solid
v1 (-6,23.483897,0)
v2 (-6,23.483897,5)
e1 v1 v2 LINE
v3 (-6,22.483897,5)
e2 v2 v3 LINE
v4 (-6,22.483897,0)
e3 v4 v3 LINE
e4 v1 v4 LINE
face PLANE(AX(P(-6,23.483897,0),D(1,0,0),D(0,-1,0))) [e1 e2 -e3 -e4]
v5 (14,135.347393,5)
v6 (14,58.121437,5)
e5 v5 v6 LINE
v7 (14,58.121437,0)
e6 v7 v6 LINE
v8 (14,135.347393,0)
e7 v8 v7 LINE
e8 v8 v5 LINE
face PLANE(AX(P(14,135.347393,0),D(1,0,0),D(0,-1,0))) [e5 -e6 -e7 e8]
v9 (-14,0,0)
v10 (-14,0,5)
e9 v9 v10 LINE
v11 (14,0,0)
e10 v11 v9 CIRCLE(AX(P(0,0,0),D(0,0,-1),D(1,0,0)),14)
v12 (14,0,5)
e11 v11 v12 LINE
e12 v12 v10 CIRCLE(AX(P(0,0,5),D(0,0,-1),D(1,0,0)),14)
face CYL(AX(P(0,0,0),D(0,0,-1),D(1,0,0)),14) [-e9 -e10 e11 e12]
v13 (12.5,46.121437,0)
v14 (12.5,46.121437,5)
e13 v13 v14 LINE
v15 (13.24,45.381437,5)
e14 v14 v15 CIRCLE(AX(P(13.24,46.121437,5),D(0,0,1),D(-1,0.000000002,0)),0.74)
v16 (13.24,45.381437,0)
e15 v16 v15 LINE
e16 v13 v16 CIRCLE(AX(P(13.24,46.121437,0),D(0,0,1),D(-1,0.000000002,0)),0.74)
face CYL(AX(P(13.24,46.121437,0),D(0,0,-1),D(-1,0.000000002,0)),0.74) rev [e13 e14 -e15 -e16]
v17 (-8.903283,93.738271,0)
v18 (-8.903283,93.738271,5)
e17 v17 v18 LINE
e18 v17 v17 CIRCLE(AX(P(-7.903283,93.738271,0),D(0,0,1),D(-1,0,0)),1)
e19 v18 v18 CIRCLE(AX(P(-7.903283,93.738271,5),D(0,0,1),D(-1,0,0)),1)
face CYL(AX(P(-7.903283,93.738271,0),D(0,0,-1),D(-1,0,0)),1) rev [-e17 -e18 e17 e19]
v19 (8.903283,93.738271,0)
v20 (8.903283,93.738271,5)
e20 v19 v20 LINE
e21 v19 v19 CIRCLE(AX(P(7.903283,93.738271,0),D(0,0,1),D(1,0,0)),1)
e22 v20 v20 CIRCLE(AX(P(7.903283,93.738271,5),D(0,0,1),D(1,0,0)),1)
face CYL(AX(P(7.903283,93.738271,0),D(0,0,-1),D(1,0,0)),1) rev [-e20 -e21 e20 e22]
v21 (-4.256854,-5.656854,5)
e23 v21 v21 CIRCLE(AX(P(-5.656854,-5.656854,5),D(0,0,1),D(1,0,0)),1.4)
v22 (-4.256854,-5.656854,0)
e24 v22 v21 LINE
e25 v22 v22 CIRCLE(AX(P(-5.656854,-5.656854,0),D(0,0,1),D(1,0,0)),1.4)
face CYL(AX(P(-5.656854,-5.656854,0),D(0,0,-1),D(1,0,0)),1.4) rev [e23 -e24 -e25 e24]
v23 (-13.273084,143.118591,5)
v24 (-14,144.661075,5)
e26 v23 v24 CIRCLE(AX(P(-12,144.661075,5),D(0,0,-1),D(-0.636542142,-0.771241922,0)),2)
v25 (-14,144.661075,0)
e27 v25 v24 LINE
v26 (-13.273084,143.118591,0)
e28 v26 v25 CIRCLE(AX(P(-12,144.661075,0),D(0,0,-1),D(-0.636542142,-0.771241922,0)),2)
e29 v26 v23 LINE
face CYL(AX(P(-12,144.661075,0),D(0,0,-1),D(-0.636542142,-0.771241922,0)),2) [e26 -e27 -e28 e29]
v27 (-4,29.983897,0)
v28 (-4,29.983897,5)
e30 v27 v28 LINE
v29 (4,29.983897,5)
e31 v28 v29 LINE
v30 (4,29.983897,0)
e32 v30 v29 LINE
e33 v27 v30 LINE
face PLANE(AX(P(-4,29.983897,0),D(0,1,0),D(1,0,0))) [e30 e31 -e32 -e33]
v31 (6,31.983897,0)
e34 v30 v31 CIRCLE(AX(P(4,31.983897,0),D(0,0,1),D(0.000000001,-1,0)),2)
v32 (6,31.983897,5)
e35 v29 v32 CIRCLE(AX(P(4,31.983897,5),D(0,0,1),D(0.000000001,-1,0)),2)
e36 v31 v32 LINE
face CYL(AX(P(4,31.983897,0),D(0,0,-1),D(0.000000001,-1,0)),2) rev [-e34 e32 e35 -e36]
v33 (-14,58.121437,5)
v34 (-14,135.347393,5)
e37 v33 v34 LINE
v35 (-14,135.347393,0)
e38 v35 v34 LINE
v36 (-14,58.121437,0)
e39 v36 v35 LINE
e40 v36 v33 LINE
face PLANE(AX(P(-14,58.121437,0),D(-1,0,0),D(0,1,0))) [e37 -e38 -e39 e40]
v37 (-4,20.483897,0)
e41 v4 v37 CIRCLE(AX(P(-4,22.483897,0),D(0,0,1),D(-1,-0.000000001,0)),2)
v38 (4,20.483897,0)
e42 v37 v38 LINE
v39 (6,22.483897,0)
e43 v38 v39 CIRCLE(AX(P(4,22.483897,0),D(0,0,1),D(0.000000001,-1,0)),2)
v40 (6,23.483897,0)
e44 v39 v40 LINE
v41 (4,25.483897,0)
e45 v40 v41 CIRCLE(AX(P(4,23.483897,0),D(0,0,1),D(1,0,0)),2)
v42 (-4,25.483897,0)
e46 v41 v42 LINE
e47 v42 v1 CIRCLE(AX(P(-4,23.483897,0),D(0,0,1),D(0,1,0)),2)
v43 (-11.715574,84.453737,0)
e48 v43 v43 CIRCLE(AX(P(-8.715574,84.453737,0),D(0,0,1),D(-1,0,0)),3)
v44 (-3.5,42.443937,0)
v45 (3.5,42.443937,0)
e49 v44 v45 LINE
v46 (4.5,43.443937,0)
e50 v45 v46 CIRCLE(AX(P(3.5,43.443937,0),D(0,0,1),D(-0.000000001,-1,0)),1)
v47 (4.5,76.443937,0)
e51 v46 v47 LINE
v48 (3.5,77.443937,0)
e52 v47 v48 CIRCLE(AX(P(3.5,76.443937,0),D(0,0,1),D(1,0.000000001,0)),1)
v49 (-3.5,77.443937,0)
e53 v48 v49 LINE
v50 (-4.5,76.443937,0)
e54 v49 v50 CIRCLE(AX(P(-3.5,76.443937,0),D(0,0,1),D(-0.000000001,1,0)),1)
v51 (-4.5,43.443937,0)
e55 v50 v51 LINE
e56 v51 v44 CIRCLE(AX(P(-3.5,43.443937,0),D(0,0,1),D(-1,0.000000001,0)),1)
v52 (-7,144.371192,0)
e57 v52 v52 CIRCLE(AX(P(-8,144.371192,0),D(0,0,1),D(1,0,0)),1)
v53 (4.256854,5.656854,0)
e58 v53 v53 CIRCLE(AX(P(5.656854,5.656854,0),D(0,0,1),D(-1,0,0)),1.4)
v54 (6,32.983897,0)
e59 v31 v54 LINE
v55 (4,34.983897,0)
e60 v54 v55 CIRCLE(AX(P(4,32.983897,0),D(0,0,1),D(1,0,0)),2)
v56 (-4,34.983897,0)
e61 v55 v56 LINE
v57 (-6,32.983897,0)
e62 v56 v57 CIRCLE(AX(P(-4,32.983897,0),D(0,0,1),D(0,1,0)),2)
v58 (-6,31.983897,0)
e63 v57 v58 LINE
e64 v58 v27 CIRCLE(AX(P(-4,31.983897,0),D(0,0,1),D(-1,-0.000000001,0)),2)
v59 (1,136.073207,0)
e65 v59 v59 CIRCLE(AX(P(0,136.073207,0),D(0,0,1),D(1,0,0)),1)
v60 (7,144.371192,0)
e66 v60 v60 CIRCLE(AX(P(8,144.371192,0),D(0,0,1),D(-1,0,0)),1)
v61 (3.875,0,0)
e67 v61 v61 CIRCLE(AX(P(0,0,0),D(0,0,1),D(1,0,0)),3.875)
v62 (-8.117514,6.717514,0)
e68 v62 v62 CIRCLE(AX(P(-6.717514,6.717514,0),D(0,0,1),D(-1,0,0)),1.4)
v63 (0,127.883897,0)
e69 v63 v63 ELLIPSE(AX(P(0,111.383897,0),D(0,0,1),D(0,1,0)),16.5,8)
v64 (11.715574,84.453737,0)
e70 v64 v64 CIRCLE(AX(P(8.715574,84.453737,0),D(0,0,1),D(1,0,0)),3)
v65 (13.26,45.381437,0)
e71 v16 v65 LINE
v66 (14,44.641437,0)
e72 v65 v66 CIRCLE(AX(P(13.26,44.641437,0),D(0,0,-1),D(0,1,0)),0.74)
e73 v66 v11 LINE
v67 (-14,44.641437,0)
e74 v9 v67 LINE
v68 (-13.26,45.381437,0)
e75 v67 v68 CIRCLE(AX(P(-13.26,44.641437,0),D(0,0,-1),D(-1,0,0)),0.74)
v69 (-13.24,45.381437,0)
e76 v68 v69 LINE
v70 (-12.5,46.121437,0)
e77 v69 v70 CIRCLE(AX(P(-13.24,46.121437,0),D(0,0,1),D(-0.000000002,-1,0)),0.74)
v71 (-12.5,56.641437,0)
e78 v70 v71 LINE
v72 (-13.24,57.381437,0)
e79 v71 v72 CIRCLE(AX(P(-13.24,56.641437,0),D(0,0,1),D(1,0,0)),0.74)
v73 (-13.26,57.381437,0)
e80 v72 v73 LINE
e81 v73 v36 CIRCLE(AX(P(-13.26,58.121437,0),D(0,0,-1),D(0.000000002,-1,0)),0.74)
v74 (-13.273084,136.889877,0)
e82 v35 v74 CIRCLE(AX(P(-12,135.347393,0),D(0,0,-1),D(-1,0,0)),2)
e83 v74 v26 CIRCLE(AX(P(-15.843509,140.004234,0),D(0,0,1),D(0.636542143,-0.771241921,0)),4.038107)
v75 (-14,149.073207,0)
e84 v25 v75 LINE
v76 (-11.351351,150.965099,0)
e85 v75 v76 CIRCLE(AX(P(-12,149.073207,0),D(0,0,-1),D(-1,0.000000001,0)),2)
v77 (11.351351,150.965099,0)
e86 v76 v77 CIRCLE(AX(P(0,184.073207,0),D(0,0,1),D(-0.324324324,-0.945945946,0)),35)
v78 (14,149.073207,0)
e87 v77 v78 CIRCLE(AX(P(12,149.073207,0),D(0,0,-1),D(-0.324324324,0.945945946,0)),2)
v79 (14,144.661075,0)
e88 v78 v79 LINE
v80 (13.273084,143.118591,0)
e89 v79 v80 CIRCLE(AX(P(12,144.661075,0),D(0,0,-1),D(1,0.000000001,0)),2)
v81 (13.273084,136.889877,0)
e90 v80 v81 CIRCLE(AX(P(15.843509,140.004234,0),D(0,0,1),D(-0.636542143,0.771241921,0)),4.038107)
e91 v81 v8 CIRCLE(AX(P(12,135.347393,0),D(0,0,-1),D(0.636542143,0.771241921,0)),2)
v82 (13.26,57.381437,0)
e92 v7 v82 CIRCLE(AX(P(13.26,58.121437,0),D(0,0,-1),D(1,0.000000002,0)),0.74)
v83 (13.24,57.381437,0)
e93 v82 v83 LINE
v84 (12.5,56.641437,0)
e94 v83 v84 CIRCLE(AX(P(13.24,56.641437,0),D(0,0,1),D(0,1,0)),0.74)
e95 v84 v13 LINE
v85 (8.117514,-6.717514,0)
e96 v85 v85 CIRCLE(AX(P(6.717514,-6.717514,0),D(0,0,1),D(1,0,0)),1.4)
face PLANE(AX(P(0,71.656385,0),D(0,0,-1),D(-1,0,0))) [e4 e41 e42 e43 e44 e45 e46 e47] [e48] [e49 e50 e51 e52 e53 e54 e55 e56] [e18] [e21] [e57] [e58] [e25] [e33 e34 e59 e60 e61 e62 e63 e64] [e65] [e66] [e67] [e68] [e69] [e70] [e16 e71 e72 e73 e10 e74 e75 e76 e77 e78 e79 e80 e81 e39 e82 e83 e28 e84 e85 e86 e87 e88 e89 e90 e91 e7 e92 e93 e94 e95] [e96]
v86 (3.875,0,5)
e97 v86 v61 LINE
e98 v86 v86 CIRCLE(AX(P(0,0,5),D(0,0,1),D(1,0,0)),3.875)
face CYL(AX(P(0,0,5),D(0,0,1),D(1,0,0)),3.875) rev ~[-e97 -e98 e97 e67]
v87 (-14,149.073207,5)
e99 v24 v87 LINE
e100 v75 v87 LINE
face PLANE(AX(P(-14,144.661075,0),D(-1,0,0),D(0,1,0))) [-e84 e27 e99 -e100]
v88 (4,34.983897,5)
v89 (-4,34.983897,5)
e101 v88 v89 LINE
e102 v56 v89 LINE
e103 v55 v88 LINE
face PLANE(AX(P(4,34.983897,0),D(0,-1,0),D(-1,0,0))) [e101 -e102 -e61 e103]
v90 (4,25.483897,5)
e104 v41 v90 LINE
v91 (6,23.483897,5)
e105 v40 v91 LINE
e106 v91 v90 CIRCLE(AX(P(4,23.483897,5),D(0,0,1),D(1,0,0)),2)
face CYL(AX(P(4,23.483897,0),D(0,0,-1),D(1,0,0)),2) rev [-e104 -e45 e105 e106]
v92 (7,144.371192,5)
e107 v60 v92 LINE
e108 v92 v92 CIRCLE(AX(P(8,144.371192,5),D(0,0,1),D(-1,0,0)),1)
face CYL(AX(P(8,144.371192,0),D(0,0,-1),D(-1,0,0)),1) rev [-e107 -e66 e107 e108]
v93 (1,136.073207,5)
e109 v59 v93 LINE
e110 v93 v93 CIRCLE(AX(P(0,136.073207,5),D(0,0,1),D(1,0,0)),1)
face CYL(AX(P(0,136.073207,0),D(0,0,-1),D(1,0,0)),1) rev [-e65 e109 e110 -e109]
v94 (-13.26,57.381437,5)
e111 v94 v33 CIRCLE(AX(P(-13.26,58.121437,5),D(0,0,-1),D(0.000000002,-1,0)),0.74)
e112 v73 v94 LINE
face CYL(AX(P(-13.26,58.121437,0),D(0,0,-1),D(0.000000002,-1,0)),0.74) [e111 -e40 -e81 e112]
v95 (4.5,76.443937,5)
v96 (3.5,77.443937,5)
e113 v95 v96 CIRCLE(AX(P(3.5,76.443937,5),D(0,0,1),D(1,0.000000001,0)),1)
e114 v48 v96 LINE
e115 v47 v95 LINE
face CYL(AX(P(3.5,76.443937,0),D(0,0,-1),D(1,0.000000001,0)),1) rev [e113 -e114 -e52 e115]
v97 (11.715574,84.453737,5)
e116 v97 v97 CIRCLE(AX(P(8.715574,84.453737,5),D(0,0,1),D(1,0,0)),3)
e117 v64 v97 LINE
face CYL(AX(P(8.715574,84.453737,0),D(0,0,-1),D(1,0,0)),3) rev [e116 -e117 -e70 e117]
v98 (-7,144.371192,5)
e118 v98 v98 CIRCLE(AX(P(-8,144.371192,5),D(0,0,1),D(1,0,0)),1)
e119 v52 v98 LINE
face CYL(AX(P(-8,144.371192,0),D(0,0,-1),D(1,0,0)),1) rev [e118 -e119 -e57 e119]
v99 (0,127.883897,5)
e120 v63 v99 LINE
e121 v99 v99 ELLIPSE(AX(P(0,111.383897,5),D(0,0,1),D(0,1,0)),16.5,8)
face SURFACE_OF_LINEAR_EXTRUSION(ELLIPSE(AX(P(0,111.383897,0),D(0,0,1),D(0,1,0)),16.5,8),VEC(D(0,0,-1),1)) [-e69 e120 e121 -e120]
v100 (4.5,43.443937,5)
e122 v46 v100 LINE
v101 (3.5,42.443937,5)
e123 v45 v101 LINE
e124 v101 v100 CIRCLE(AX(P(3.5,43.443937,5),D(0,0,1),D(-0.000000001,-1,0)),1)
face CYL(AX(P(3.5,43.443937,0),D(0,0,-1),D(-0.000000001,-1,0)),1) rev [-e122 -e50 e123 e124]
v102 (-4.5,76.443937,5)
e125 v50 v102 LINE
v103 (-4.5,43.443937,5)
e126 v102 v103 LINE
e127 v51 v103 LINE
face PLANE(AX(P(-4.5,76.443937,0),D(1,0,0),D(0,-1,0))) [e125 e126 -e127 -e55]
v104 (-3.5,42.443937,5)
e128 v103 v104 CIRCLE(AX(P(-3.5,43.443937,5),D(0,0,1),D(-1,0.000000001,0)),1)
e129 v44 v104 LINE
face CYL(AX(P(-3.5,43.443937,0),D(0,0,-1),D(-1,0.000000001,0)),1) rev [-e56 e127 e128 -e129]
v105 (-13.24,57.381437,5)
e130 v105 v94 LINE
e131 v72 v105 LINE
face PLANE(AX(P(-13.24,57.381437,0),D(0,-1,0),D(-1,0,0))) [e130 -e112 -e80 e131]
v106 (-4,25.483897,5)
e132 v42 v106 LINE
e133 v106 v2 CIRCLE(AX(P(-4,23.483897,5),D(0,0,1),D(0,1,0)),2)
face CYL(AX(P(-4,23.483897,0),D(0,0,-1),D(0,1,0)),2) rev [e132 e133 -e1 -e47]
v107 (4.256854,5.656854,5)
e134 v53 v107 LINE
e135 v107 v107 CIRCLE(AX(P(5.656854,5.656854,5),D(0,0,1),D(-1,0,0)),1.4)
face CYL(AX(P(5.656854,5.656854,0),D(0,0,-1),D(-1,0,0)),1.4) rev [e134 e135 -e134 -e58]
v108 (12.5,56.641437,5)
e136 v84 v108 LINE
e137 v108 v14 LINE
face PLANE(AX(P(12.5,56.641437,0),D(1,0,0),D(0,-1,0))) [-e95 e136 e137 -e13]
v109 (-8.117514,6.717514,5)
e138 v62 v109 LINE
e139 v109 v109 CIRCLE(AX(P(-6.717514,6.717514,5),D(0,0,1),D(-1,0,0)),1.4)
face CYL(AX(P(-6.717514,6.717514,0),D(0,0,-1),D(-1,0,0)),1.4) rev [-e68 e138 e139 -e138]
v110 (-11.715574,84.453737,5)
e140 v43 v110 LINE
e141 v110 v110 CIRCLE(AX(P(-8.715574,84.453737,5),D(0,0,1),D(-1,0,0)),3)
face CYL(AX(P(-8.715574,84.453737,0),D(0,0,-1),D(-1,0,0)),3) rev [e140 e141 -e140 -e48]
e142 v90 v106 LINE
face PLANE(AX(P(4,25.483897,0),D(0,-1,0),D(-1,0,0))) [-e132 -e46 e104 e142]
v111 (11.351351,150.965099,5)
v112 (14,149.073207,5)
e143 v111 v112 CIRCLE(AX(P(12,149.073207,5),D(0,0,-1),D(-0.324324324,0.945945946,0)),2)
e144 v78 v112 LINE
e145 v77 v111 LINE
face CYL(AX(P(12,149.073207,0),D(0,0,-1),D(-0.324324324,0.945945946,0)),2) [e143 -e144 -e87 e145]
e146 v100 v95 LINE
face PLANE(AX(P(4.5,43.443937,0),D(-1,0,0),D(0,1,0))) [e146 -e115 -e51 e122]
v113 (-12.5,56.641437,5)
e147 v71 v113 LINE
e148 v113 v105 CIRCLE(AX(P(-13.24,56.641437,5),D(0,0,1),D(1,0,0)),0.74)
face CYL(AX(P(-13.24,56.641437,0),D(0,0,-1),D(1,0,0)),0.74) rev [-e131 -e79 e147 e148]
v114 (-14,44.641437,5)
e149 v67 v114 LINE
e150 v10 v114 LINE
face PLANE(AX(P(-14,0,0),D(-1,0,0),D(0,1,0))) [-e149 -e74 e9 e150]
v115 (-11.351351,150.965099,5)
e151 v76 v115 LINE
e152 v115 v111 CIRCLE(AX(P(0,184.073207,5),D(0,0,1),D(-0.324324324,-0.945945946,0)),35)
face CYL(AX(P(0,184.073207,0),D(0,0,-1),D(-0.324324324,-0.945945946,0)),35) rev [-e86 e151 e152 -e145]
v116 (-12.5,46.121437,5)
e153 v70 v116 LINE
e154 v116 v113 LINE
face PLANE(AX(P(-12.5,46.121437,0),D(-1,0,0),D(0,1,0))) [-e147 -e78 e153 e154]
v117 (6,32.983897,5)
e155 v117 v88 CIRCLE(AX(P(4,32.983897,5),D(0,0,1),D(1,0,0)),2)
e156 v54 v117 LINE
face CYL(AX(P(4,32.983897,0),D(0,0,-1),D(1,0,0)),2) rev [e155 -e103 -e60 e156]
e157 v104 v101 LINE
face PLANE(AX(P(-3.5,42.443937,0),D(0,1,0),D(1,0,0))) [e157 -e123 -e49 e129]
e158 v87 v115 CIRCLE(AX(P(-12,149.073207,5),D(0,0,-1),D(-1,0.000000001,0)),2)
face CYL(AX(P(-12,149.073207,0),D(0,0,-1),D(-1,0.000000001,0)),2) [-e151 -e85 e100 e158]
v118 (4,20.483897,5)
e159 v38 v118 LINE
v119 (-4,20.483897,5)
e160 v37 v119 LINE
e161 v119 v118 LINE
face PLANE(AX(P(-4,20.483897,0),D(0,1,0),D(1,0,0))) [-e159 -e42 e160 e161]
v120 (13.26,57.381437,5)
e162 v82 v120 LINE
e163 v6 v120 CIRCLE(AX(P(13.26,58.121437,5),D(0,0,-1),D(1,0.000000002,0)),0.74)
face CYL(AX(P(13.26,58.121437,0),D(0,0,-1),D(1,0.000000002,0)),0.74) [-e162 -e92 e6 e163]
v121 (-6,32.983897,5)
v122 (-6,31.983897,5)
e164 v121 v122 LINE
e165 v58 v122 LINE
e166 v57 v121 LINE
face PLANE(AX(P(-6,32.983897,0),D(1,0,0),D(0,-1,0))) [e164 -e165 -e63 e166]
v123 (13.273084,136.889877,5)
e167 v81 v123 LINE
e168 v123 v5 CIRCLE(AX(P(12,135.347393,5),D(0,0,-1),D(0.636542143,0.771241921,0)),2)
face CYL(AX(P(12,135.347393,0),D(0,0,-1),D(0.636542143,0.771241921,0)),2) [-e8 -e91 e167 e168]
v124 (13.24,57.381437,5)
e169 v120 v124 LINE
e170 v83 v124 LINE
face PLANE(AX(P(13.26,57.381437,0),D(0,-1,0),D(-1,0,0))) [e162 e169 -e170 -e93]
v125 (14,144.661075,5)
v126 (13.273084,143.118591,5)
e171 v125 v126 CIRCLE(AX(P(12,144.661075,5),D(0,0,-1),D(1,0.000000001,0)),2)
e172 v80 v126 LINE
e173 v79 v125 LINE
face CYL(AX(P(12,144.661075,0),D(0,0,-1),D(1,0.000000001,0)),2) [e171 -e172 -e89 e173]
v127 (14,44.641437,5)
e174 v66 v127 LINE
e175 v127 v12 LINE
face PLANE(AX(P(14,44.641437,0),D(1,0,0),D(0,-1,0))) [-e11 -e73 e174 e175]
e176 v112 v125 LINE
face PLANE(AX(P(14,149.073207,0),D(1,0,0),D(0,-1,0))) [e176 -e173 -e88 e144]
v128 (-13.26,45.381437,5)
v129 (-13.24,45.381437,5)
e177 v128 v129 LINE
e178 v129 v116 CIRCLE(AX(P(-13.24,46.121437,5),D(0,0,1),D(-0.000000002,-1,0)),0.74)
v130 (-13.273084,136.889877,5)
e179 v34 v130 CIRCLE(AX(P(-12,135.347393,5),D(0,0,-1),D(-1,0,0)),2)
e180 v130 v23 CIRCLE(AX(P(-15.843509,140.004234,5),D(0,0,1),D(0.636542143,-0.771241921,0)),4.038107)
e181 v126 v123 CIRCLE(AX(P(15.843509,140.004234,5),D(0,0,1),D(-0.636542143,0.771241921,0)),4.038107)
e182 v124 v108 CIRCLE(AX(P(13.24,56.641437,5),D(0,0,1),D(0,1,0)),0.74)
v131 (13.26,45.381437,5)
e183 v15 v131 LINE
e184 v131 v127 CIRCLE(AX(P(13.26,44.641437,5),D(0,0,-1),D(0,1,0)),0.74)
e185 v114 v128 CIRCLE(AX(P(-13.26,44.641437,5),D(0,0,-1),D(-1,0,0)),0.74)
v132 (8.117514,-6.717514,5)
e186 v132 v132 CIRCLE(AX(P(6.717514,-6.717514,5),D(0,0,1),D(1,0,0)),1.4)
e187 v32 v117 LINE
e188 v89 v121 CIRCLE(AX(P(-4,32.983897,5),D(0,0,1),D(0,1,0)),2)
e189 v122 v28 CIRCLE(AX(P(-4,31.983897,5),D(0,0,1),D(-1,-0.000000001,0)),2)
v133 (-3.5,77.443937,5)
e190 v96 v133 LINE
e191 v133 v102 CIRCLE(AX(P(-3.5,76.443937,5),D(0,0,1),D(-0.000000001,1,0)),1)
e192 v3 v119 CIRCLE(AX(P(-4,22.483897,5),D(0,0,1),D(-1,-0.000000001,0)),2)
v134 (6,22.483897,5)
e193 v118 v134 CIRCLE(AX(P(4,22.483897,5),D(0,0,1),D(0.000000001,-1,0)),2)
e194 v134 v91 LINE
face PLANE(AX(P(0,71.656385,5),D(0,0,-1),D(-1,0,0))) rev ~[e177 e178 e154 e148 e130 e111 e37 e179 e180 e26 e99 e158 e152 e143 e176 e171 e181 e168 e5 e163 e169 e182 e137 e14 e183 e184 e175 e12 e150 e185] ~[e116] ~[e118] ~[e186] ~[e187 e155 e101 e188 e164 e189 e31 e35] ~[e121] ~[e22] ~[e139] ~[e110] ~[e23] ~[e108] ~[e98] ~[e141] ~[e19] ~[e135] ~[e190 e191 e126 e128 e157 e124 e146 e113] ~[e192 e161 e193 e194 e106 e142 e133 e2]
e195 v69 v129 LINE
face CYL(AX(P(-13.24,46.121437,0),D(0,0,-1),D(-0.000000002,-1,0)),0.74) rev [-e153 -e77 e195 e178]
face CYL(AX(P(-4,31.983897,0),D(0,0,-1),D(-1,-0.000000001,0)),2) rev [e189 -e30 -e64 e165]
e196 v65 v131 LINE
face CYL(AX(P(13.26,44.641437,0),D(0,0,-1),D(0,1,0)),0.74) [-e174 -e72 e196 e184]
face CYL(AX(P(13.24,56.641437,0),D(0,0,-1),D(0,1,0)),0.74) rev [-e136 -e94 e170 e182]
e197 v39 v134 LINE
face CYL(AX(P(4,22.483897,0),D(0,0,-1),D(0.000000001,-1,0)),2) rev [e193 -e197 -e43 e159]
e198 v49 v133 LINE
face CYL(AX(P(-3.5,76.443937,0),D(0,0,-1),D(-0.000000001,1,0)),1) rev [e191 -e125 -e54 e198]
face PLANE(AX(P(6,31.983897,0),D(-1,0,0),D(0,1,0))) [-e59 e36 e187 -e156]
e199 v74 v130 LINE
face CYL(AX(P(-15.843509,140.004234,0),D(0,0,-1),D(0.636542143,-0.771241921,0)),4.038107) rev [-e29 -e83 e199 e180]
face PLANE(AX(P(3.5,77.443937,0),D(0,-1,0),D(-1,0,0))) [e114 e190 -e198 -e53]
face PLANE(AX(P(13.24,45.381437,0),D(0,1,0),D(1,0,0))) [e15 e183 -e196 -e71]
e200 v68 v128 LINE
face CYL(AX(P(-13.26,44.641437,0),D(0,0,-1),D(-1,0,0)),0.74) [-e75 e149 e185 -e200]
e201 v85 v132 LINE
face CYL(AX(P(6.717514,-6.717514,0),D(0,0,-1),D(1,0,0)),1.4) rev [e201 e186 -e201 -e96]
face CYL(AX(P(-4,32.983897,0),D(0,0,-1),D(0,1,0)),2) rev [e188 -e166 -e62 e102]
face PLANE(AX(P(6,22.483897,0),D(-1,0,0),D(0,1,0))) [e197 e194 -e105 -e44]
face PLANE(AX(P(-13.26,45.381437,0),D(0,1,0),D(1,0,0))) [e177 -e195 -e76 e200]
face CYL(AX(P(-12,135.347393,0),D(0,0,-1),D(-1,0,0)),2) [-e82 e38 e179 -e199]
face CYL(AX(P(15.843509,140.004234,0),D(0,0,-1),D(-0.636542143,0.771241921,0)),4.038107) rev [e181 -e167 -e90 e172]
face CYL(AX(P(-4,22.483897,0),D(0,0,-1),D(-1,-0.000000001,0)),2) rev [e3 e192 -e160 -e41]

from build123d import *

# Parameters (mm, degrees)
SKETCH1_R           = 1
SKETCH1_R_2         = 1.4
SKETCH1_R_3         = 3
SKETCH1_RX          = 16.5
SKETCH1_RY          = 8
BOSS_EXTRUDE1_DEPTH = 5
CUT_EXTRUDE1_REACH  = 153.803
SKETCH2_R           = 3.875


with BuildPart() as part:
    # Sketch1 → Boss-Extrude1 (new body)
    with BuildSketch(Plane.XY):
        with BuildLine():
            Line((-14, 0), (-14, 44.641437436))
            ThreePointArc((-14, 44.641437436), (-13.783259018, 45.164696454), (-13.26, 45.381437436))
            Line((-13.26, 45.381437436), (-13.24, 45.381437436))
            ThreePointArc((-13.24, 45.381437436), (-12.716740982, 45.598178417), (-12.5, 46.121437436))
            Line((-12.5, 46.121437436), (-12.5, 56.641437436))
            ThreePointArc((-12.5, 56.641437436), (-12.716740982, 57.164696454), (-13.24, 57.381437436))
            Line((-13.24, 57.381437436), (-13.26, 57.381437436))
            ThreePointArc((-13.26, 57.381437436), (-13.783259018, 57.598178417), (-14, 58.121437436))
            Line((-14, 58.121437436), (-14, 135.347392982))
            ThreePointArc((-14, 135.347392982), (-13.809166738, 136.199986504), (-13.273084285, 136.889876824))
            ThreePointArc((-13.273084285, 136.889876824), (-11.805402668, 140.00423401), (-13.273084285, 143.118591196))
            ThreePointArc((-13.273084285, 143.118591196), (-13.809166738, 143.808481515), (-14, 144.661075038))
            Line((-14, 144.661075038), (-14, 149.07320666))
            ThreePointArc((-14, 149.07320666), (-13.162476387, 150.700673602), (-11.351351351, 150.965098552))
            ThreePointArc((-11.351351351, 150.965098552), (0, 149.07320666), (11.351351351, 150.965098552))
            ThreePointArc((11.351351351, 150.965098552), (13.162476387, 150.700673602), (14, 149.07320666))
            Line((14, 149.07320666), (14, 144.661075038))
            ThreePointArc((14, 144.661075038), (13.809166738, 143.808481515), (13.273084285, 143.118591196))
            ThreePointArc((13.273084285, 143.118591196), (11.805402668, 140.00423401), (13.273084285, 136.889876824))
            ThreePointArc((13.273084285, 136.889876824), (13.809166738, 136.199986504), (14, 135.347392982))
            Line((14, 135.347392982), (14, 58.121437436))
            ThreePointArc((14, 58.121437436), (13.783259018, 57.598178417), (13.26, 57.381437436))
            Line((13.26, 57.381437436), (13.24, 57.381437436))
            ThreePointArc((13.24, 57.381437436), (12.716740982, 57.164696454), (12.5, 56.641437436))
            Line((12.5, 56.641437436), (12.5, 46.121437436))
            ThreePointArc((12.5, 46.121437436), (12.716740982, 45.598178417), (13.24, 45.381437436))
            Line((13.24, 45.381437436), (13.26, 45.381437436))
            ThreePointArc((13.26, 45.381437436), (13.783259018, 45.164696454), (14, 44.641437436))
            Line((14, 44.641437436), (14, 0))
            ThreePointArc((14, 0), (0, -14), (-14, 0))
        make_face()
        with Locations((-8, 144.371191598)):
            Circle(SKETCH1_R, mode=Mode.SUBTRACT)
        with Locations((6.717514421, -6.717514421)):
            Circle(SKETCH1_R_2, mode=Mode.SUBTRACT)
        with Locations((-5.656854249, -5.656854249)):
            Circle(SKETCH1_R_2, mode=Mode.SUBTRACT)
        with Locations(Location((5.656854249, 5.656854249, 0), (0, 0, 180))):
            Circle(SKETCH1_R_2, mode=Mode.SUBTRACT)
        with Locations(Location((-6.717514421, 6.717514421, 0), (0, 0, 180))):
            Circle(SKETCH1_R_2, mode=Mode.SUBTRACT)
        with Locations(Location((8, 144.371191598, 0), (0, 0, 180))):
            Circle(SKETCH1_R, mode=Mode.SUBTRACT)
        with Locations((0, 136.07320666)):
            Circle(SKETCH1_R, mode=Mode.SUBTRACT)
        with Locations((7.903282752, 93.738271437)):
            Circle(SKETCH1_R, mode=Mode.SUBTRACT)
        with Locations((8.715574275, 84.453736851)):
            Circle(SKETCH1_R_3, mode=Mode.SUBTRACT)
        with Locations(Location((-7.903282752, 93.738271437, 0), (0, 0, 180))):
            Circle(SKETCH1_R, mode=Mode.SUBTRACT)
        with Locations(Location((-8.715574275, 84.453736851, 0), (0, 0, 180))):
            Circle(SKETCH1_R_3, mode=Mode.SUBTRACT)
        with Locations(Location((0, 111.383897204), (0, 0, 90))):
            Ellipse(SKETCH1_RX, SKETCH1_RY, mode=Mode.SUBTRACT)
        with BuildLine():
            Line((-4, 29.983897204), (4, 29.983897204))
            ThreePointArc((4, 29.983897204), (5.414213562, 30.569683642), (6, 31.983897204))
            Line((6, 31.983897204), (6, 32.983897204))
            ThreePointArc((6, 32.983897204), (5.414213562, 34.398110767), (4, 34.983897204))
            Line((4, 34.983897204), (-4, 34.983897204))
            ThreePointArc((-4, 34.983897204), (-5.414213562, 34.398110767), (-6, 32.983897204))
            Line((-6, 32.983897204), (-6, 31.983897204))
            ThreePointArc((-6, 31.983897204), (-5.414213562, 30.569683642), (-4, 29.983897204))
        make_face(mode=Mode.SUBTRACT)
        with BuildLine():
            Line((-4, 20.483897204), (4, 20.483897204))
            ThreePointArc((4, 20.483897204), (5.414213562, 21.069683642), (6, 22.483897204))
            Line((6, 22.483897204), (6, 23.483897204))
            ThreePointArc((6, 23.483897204), (5.414213562, 24.898110767), (4, 25.483897204))
            Line((4, 25.483897204), (-4, 25.483897204))
            ThreePointArc((-4, 25.483897204), (-5.414213562, 24.898110767), (-6, 23.483897204))
            Line((-6, 23.483897204), (-6, 22.483897204))
            ThreePointArc((-6, 22.483897204), (-5.414213562, 21.069683642), (-4, 20.483897204))
        make_face(mode=Mode.SUBTRACT)
        with BuildLine():
            Line((-3.5, 42.443937436), (3.5, 42.443937436))
            ThreePointArc((3.5, 42.443937436), (4.207106781, 42.736830654), (4.5, 43.443937436))
            Line((4.5, 43.443937436), (4.5, 76.443937436))
            ThreePointArc((4.5, 76.443937436), (4.207106781, 77.151044217), (3.5, 77.443937436))
            Line((3.5, 77.443937436), (-3.5, 77.443937436))
            ThreePointArc((-3.5, 77.443937436), (-4.207106781, 77.151044217), (-4.5, 76.443937436))
            Line((-4.5, 76.443937436), (-4.5, 43.443937436))
            ThreePointArc((-4.5, 43.443937436), (-4.207106781, 42.736830654), (-3.5, 42.443937436))
        make_face(mode=Mode.SUBTRACT)
    extrude(amount=BOSS_EXTRUDE1_DEPTH)

    # Sketch2 → Cut-Extrude1 (cut, up to next)
    with BuildSketch(Plane.XY.offset(5), mode=Mode.PRIVATE) as cut_extrude1_sk1:
        Circle(SKETCH2_R)
    cut_extrude1_tool1 = extrude(cut_extrude1_sk1.sketch, amount=-CUT_EXTRUDE1_REACH, mode=Mode.PRIVATE) & part.part
    add(cut_extrude1_tool1.solids().sort_by_distance((0, 0, 5))[0], mode=Mode.SUBTRACT)


solid = part.part
